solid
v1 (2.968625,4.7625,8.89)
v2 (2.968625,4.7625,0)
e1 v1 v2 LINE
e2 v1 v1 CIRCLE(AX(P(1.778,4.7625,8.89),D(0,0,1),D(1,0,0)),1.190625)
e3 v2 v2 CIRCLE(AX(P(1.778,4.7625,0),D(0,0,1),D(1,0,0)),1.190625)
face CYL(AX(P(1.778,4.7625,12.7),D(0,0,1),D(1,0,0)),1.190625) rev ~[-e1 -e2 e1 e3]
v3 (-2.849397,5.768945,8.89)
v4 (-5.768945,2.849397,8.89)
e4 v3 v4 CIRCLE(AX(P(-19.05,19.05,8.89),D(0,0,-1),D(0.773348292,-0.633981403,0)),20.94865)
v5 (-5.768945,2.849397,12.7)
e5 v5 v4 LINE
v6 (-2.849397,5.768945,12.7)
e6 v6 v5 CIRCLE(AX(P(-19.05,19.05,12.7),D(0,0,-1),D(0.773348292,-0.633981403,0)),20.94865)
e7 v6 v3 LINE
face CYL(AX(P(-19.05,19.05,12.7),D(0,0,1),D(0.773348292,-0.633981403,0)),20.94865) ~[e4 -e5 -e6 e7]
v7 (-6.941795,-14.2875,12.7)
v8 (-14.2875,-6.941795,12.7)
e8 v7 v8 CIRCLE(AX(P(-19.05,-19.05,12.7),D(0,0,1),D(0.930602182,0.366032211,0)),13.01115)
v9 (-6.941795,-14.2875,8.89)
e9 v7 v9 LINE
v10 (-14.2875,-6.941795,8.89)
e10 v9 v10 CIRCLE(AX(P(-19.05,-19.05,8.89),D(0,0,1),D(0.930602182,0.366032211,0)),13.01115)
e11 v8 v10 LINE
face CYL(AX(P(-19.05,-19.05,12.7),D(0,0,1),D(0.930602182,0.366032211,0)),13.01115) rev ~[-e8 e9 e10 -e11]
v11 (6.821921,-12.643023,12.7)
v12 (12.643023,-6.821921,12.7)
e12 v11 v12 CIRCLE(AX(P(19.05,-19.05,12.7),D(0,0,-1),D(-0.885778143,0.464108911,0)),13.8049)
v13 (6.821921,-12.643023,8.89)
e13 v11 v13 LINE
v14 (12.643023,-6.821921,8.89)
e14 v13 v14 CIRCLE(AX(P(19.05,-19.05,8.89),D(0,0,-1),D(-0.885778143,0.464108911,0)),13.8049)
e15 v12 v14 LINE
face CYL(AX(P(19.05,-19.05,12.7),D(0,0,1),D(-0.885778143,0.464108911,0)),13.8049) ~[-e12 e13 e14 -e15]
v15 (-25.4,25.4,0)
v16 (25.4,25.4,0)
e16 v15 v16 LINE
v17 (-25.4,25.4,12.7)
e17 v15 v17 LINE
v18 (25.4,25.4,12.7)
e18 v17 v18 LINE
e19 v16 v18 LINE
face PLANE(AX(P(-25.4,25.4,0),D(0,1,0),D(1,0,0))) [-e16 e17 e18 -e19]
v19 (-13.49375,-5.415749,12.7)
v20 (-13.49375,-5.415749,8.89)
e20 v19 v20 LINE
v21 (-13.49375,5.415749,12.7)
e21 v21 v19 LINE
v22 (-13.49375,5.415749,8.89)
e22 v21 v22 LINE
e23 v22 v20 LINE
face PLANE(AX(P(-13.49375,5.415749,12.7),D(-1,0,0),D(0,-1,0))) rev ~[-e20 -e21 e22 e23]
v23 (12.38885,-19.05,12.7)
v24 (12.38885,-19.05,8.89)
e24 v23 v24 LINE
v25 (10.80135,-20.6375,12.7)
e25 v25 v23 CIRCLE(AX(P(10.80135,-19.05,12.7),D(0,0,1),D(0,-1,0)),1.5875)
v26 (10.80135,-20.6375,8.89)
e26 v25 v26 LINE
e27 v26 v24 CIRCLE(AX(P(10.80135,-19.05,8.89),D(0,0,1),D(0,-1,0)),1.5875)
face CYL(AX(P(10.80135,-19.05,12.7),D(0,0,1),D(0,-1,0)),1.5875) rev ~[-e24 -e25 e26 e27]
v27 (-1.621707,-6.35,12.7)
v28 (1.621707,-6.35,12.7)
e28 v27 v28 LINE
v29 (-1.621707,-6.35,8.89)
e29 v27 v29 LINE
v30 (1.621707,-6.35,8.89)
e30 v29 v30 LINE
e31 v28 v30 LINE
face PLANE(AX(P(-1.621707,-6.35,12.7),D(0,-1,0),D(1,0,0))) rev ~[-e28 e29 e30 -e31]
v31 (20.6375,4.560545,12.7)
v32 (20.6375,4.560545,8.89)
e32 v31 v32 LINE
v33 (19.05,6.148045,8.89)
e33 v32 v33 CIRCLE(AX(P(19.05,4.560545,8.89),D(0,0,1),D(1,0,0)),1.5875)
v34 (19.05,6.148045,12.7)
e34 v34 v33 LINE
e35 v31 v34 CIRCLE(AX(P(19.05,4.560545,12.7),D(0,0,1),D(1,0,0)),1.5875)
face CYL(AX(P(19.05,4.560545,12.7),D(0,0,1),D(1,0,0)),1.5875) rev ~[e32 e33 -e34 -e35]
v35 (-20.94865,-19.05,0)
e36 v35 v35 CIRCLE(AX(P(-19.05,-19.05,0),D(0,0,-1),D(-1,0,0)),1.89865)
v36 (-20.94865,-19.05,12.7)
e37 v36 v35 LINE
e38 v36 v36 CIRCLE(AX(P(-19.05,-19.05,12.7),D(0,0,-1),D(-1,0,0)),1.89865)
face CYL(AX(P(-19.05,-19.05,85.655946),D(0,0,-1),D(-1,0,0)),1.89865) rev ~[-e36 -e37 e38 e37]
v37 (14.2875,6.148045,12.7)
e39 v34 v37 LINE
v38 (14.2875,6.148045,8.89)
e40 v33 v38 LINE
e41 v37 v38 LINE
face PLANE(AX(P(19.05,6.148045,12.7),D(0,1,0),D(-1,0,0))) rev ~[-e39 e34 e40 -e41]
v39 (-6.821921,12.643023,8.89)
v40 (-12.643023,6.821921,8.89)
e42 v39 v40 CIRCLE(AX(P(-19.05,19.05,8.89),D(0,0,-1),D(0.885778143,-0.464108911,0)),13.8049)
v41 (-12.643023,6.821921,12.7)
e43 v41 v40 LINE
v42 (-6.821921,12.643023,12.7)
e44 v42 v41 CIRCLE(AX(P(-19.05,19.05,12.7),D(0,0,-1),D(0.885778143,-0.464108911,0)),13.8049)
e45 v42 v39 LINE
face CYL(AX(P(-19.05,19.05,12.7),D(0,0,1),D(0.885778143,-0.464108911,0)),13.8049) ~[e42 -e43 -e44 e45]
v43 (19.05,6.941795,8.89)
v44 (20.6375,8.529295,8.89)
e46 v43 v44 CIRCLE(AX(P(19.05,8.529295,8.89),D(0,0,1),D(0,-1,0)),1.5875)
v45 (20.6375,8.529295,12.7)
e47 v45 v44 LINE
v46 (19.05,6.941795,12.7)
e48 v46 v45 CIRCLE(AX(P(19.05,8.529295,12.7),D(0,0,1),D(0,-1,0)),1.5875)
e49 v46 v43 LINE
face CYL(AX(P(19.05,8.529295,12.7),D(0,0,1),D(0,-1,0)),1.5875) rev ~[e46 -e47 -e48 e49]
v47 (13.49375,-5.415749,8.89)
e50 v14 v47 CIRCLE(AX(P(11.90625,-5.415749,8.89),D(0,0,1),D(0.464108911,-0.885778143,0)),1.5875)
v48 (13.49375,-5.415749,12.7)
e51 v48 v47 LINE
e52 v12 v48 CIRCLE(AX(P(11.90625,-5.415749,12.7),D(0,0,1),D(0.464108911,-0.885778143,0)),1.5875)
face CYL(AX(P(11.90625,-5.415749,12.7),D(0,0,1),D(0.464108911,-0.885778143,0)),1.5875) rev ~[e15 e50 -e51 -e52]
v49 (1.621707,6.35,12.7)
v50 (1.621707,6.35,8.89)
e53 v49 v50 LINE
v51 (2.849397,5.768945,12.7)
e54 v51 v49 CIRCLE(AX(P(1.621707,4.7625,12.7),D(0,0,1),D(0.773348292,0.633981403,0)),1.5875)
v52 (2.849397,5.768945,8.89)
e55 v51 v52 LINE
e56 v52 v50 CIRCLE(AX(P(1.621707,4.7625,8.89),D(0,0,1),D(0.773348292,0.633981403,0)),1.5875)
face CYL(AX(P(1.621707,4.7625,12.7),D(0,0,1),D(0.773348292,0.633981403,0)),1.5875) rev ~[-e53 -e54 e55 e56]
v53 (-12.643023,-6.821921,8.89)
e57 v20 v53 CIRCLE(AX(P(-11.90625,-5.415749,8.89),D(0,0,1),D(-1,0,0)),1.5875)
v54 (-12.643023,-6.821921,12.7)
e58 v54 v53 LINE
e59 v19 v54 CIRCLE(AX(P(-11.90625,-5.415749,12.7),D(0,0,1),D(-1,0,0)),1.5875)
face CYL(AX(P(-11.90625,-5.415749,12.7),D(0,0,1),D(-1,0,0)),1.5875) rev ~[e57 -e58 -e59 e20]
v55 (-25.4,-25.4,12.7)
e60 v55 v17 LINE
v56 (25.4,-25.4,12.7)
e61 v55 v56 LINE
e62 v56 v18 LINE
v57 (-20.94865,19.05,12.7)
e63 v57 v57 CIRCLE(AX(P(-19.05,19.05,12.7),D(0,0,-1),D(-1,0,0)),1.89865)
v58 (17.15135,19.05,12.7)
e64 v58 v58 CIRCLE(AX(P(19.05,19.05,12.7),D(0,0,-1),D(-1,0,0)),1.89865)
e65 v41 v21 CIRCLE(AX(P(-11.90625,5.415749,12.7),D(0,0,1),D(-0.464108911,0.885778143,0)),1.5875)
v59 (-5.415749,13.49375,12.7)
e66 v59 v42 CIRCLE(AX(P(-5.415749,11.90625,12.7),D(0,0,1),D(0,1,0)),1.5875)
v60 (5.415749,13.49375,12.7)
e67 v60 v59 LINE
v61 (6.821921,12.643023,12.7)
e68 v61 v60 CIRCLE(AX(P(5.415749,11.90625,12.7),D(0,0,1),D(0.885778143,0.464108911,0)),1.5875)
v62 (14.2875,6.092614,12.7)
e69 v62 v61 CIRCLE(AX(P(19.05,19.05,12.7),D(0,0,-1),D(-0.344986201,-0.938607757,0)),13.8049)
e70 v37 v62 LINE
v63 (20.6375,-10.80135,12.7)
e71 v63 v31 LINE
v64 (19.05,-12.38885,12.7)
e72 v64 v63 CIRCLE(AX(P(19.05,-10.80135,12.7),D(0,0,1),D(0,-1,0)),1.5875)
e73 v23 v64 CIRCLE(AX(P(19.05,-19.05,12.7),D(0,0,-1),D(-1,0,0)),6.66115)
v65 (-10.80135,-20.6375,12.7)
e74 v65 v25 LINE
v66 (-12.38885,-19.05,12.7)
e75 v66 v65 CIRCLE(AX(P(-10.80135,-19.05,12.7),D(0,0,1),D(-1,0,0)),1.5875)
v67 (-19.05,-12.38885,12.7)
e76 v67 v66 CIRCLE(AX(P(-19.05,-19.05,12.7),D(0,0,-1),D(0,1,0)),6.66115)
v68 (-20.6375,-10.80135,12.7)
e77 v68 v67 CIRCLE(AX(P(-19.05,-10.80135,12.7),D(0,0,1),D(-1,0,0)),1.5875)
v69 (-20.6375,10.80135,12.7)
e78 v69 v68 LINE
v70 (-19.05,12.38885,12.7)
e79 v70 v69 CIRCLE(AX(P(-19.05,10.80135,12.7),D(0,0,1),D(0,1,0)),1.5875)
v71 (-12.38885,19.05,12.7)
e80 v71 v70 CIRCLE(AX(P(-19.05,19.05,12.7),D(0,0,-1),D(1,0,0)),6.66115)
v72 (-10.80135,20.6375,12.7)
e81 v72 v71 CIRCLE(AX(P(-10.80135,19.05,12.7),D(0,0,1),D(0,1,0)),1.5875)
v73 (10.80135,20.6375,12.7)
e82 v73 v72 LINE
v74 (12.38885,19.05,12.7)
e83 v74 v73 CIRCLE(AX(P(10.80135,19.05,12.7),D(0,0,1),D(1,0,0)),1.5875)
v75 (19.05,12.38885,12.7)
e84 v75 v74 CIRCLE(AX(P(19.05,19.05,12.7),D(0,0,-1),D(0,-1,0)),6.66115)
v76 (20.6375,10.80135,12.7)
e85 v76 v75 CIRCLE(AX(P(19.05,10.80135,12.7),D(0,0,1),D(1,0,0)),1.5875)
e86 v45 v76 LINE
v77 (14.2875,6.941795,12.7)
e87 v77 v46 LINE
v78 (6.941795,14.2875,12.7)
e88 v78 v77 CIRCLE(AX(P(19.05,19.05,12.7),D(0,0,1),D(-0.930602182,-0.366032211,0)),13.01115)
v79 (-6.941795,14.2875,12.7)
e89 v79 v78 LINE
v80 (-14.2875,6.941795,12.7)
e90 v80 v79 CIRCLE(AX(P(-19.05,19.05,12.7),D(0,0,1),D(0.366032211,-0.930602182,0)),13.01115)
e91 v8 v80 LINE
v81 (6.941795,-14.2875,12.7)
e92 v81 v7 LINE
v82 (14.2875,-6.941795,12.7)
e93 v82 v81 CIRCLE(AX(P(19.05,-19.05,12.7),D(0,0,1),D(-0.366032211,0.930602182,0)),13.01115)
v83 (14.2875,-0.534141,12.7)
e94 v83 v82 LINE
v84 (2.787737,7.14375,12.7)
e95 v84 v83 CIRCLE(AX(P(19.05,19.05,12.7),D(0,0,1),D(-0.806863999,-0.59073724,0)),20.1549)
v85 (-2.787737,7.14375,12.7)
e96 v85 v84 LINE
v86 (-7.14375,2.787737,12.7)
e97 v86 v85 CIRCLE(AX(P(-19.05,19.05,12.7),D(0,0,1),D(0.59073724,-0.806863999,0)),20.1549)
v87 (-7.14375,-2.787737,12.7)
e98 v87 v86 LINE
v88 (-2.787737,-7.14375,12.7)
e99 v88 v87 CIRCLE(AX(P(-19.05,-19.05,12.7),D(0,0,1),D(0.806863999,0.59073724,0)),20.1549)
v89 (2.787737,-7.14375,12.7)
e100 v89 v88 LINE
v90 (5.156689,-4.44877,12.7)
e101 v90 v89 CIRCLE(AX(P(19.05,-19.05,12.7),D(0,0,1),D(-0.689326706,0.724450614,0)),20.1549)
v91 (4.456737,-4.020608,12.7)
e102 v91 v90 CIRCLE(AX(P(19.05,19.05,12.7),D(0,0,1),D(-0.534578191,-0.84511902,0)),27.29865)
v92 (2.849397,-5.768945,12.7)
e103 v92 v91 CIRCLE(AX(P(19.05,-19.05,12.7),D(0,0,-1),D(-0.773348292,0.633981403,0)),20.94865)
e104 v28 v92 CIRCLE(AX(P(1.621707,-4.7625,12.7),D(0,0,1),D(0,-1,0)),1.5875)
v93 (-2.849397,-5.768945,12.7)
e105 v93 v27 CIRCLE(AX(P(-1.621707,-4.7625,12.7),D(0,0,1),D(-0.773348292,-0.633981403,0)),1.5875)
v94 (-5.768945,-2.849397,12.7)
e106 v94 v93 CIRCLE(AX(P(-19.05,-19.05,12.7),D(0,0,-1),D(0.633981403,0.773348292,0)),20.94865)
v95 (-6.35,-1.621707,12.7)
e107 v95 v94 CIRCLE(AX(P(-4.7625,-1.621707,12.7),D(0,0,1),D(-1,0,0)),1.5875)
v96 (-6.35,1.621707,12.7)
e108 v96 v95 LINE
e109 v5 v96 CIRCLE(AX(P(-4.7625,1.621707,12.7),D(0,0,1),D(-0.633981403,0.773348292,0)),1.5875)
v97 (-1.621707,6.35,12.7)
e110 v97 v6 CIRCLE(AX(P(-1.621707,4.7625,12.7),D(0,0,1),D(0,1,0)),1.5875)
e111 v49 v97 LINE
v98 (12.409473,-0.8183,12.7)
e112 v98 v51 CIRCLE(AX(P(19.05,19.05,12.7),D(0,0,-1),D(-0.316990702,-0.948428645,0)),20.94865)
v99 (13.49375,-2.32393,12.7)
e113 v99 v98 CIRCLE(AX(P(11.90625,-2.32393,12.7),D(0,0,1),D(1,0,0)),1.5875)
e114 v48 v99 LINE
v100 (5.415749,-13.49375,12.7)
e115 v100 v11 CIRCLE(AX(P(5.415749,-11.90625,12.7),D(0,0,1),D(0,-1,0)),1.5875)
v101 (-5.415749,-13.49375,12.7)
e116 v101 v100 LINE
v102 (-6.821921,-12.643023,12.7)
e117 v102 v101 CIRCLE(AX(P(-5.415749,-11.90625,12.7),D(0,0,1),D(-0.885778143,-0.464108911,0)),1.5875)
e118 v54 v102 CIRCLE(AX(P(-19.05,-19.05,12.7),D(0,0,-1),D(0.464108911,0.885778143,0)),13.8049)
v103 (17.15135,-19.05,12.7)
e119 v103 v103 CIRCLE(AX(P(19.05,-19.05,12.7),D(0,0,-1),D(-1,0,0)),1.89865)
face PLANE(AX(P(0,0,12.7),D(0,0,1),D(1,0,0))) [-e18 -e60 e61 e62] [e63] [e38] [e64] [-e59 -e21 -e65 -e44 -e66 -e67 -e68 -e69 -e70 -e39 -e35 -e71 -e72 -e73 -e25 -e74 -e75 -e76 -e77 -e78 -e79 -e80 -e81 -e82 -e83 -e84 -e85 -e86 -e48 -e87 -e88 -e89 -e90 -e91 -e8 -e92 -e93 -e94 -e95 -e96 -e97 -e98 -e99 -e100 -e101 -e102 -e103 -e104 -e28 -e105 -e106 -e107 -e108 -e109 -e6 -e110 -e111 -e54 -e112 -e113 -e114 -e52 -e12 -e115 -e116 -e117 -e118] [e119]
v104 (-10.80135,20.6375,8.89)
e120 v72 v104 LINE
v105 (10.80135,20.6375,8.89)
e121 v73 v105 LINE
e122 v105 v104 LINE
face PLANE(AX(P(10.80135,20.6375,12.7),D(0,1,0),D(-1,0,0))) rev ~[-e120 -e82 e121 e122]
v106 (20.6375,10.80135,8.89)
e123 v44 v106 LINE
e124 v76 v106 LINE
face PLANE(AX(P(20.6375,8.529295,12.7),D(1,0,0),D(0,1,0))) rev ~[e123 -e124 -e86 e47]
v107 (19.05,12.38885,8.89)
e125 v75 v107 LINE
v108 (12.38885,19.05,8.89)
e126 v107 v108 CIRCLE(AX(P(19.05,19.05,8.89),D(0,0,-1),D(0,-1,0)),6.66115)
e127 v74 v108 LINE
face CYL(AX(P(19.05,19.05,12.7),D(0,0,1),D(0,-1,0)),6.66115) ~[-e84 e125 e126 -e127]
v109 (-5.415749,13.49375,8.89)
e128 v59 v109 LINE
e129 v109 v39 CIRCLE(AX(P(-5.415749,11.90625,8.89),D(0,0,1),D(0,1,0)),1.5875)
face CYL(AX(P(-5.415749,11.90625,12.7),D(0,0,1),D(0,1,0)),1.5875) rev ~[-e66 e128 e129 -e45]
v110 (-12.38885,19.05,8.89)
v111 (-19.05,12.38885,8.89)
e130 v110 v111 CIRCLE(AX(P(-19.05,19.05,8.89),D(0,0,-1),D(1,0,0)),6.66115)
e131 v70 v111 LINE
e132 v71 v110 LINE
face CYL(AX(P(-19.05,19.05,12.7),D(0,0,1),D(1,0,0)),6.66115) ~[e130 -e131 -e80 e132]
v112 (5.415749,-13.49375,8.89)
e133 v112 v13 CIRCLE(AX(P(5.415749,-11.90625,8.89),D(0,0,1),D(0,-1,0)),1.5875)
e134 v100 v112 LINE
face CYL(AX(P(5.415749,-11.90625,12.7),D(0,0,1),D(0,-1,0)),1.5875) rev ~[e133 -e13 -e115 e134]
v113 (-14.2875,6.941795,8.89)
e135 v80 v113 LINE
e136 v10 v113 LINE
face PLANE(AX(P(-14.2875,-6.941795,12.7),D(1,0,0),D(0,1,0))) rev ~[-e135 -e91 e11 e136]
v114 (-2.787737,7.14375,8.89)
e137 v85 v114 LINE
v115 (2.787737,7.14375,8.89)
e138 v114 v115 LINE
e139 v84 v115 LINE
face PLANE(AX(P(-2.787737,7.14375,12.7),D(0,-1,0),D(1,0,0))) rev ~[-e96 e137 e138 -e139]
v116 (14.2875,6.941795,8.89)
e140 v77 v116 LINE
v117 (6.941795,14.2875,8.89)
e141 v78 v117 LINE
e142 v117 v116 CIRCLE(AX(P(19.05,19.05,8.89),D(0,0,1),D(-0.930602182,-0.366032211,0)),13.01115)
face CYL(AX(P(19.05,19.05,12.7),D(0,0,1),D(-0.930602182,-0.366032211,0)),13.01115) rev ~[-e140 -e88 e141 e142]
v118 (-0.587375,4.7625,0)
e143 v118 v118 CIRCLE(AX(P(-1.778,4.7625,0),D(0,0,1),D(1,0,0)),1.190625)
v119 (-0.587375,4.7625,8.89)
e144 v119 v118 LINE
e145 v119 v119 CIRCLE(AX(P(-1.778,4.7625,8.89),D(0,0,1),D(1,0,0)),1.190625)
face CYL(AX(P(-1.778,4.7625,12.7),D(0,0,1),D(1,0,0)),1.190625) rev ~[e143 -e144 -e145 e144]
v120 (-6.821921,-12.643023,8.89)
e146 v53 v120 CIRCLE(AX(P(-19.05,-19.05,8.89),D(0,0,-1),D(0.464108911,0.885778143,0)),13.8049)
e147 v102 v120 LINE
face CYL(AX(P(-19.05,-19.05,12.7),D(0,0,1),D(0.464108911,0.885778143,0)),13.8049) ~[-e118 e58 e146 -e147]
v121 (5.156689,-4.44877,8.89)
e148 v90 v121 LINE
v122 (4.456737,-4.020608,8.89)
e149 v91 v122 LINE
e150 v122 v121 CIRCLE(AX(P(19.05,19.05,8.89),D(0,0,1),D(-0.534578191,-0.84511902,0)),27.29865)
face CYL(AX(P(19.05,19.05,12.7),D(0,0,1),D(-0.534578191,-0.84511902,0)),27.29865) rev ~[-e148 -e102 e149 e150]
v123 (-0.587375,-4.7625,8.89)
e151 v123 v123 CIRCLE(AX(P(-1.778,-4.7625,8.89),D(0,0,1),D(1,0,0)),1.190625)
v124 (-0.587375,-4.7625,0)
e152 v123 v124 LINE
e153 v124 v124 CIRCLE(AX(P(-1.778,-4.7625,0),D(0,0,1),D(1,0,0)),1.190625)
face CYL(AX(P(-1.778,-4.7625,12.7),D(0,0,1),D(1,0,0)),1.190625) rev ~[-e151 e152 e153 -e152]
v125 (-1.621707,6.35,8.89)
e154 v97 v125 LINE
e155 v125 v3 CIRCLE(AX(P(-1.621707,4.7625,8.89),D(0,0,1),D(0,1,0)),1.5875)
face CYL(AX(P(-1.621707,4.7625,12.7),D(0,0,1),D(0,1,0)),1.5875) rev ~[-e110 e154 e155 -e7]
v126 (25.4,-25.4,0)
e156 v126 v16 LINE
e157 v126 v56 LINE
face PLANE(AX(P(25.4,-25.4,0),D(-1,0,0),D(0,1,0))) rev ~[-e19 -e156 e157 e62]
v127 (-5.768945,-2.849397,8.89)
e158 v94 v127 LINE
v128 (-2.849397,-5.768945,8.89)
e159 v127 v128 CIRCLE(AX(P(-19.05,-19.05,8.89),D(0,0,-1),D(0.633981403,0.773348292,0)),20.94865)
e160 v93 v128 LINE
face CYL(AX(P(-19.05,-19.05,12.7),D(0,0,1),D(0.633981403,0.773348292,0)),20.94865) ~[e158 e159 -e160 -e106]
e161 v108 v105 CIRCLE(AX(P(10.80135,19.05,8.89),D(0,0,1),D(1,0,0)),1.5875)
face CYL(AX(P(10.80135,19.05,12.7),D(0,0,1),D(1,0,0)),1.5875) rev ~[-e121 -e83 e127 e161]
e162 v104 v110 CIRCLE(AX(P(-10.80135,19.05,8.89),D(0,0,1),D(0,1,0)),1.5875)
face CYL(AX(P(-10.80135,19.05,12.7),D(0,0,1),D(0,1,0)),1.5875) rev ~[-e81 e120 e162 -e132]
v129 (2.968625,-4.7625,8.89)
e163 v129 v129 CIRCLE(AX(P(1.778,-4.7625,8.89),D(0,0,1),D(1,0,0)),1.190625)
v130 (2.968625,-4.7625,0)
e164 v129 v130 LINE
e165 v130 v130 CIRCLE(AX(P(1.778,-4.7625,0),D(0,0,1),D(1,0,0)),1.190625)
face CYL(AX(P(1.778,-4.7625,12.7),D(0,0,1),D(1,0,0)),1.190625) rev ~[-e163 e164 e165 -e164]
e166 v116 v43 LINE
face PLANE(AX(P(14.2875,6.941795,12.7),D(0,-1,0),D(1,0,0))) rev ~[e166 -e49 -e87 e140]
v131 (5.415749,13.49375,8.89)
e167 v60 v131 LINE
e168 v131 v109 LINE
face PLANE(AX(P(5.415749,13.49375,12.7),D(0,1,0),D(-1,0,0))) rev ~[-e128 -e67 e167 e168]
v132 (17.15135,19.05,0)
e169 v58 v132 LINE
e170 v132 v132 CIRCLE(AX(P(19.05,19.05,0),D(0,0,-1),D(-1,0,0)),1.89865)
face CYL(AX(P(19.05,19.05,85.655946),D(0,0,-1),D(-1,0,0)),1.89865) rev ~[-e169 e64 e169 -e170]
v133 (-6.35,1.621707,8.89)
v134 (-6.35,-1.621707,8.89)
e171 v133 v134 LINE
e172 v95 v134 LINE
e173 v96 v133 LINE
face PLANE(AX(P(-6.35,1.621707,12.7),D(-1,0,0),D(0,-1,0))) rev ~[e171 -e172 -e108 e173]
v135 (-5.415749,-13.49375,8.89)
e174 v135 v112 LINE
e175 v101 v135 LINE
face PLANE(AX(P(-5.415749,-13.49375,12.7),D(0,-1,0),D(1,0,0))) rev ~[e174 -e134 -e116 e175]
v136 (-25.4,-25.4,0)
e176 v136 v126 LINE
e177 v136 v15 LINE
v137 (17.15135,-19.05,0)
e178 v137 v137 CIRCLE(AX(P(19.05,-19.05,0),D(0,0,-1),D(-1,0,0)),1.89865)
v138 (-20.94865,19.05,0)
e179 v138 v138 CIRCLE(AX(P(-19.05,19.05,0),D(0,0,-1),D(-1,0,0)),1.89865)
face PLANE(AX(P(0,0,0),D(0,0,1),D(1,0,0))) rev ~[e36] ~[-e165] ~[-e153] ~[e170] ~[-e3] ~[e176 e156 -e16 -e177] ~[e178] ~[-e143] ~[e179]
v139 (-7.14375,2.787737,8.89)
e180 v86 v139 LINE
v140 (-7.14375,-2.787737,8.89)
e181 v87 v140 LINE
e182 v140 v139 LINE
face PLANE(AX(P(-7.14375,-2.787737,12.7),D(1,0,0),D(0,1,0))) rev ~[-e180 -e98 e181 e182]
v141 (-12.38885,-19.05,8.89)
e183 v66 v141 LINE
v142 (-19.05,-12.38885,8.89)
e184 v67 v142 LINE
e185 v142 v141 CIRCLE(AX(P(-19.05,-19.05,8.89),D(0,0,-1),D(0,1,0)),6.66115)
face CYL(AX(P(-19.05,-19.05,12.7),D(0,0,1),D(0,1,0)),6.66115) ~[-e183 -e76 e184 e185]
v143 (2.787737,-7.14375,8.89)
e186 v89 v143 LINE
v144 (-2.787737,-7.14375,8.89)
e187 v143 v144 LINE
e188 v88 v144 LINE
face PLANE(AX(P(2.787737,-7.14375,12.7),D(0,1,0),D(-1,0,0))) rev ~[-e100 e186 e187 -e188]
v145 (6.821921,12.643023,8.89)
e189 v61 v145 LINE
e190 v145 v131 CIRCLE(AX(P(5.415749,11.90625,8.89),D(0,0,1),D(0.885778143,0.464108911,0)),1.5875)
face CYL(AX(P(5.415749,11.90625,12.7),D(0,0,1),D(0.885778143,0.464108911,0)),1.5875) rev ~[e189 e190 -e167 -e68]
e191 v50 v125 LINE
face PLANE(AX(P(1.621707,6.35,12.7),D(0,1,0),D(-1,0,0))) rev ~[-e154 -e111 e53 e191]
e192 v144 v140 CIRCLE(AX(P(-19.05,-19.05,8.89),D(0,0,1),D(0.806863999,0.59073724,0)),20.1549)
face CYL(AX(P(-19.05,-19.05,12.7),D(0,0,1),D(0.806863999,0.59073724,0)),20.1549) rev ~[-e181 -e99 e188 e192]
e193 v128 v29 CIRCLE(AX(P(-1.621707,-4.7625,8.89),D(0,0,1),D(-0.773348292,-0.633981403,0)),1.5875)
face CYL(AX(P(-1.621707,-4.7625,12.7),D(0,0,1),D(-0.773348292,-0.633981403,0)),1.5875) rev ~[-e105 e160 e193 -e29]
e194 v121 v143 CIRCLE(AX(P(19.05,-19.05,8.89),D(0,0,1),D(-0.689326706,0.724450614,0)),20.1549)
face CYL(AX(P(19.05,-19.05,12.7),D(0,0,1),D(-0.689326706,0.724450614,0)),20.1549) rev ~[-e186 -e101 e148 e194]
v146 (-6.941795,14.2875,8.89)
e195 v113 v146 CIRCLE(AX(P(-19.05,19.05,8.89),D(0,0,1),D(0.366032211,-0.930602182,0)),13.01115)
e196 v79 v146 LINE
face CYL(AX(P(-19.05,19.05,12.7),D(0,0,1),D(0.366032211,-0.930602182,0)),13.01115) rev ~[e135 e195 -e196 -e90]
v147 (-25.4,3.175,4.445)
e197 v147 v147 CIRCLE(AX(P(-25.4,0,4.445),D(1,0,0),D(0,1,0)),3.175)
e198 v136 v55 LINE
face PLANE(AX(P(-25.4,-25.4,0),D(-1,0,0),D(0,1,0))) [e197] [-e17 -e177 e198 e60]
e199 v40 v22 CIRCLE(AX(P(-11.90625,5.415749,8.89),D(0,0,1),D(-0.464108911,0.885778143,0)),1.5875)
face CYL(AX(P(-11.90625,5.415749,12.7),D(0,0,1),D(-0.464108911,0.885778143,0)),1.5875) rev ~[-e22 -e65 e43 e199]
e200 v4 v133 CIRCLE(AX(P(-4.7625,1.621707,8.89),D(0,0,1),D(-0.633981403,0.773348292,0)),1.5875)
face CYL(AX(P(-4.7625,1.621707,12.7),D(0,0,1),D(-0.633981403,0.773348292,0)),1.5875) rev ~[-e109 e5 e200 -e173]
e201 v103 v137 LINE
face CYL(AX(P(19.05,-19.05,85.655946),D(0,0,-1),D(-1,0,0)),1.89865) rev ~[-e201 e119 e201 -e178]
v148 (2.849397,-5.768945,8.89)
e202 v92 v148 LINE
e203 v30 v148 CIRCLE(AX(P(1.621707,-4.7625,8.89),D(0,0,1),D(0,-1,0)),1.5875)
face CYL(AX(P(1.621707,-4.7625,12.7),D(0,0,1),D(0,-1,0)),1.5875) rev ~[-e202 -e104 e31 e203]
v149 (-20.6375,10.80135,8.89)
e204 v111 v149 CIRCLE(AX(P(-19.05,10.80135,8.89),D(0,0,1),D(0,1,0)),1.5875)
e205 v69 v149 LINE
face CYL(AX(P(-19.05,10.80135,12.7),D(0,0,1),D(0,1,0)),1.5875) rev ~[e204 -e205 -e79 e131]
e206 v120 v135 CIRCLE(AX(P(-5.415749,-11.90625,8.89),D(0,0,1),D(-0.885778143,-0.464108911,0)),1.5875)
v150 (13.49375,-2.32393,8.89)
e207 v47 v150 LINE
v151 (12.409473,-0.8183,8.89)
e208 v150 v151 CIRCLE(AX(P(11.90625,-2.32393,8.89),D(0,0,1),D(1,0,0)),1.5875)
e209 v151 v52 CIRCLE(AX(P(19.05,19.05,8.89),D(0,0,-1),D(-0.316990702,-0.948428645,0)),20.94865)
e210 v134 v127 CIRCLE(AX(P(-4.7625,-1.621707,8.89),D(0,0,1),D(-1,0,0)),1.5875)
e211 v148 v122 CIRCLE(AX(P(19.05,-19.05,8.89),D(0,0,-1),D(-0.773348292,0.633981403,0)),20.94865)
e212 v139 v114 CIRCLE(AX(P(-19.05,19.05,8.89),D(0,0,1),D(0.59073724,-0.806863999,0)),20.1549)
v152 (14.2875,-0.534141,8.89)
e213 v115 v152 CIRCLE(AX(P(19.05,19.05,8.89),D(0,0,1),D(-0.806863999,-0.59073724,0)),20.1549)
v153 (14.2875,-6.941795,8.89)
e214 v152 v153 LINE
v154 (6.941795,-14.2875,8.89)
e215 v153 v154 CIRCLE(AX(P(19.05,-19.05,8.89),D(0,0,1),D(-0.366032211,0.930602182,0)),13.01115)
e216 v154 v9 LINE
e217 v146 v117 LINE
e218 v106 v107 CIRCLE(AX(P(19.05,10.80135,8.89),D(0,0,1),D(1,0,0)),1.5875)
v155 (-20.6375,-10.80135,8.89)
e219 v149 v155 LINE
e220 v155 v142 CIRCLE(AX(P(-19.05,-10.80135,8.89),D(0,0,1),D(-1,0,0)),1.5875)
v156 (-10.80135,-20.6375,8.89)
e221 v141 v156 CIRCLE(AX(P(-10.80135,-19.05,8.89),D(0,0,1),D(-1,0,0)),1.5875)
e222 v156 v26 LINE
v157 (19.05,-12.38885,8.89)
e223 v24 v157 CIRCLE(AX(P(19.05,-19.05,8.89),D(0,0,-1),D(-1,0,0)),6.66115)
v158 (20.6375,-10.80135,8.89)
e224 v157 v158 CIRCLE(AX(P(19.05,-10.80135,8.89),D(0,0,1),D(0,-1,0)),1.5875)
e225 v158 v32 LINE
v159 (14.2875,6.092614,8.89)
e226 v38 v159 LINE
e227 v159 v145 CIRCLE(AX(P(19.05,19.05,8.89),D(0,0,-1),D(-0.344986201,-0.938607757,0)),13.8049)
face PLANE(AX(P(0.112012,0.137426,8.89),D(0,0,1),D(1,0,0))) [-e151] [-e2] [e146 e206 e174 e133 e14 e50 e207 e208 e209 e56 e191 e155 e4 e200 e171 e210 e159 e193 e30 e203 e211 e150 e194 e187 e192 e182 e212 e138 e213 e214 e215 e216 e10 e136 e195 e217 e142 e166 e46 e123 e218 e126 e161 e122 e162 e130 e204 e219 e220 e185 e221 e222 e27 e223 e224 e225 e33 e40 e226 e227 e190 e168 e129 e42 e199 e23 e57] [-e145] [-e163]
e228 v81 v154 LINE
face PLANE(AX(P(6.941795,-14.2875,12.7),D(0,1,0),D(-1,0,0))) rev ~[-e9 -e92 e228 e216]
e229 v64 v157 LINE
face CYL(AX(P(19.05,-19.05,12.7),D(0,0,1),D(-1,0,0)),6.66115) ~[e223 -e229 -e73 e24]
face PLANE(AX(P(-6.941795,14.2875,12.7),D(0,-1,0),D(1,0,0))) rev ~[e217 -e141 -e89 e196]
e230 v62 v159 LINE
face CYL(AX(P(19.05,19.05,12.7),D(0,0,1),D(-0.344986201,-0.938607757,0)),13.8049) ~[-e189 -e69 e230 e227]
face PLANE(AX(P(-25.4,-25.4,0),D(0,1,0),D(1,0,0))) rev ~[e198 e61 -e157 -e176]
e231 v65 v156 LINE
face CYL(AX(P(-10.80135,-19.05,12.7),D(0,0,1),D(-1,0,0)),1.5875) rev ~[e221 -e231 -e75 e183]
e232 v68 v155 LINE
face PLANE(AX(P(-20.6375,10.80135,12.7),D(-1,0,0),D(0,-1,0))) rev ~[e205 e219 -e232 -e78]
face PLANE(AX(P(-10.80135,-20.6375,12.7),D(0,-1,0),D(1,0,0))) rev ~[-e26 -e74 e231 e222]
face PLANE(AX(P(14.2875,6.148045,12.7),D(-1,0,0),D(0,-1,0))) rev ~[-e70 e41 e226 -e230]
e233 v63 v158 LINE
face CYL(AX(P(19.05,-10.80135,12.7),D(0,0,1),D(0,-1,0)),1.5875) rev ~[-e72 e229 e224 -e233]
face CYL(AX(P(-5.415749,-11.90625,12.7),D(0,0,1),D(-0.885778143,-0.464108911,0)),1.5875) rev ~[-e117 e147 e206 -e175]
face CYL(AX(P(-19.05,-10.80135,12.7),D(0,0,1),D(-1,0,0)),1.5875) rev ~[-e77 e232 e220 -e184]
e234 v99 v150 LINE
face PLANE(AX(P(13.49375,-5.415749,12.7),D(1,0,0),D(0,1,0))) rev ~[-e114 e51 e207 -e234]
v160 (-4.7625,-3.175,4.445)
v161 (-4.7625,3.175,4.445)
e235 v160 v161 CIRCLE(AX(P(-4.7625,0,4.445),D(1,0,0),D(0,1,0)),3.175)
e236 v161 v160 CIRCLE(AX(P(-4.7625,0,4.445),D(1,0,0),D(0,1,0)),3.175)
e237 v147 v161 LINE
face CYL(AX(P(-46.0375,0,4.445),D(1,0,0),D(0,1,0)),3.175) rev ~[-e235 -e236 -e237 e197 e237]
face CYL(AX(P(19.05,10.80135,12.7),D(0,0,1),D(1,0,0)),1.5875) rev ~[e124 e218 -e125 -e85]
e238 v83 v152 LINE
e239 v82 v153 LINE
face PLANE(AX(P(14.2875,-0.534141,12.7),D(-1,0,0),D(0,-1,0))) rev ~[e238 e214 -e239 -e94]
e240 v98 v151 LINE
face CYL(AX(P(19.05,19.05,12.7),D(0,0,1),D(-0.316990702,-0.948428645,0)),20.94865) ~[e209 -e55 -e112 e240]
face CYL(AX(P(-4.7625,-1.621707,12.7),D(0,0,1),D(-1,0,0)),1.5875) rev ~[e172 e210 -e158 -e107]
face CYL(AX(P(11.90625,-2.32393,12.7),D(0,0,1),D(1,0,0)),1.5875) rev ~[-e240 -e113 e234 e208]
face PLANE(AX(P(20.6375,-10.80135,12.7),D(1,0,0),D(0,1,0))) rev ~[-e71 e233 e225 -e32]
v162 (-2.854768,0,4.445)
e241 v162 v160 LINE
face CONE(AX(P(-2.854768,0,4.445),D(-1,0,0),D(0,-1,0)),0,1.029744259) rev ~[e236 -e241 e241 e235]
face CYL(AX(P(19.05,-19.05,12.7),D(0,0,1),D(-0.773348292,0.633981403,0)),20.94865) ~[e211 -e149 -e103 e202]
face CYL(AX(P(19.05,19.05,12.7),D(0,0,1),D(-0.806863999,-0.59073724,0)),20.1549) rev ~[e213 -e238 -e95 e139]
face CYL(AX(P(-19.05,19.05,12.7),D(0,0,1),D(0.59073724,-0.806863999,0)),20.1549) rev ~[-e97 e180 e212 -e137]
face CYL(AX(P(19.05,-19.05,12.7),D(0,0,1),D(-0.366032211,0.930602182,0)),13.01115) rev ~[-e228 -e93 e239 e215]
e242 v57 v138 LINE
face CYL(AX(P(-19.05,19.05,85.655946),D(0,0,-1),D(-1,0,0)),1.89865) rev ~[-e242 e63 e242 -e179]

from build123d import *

# Parameters (mm, degrees)
F0_W      = 50.8
F0_H      = 50.8
F1_DEPTH  = 12.7
F5_D      = 6.35
F5_DEPTH  = 20.6375
F5_TIP    = 1.9077324654
F7_D      = 3.7973
F8_R      = 1.190625
F9_DEPTH  = 3.81
F10_R     = 1.190625
F11_DEPTH = 12.701


with BuildPart() as f1:
    # F0 (on Top) → F1 (new body)
    with BuildSketch(Plane.XY):
        Rectangle(F0_W, F0_H)
    extrude(amount=F1_DEPTH)

    # F5
    with Locations(Plane(origin=(-25.4, 0, 0), x_dir=(0, -1, 0), z_dir=(-1, 0, 0))):
        with Locations((0, 4.445)):
            Hole(F5_D / 2, depth=F5_DEPTH)
            with Locations((0, 0, -(F5_DEPTH + F5_TIP / 2))):  # 118° drill point
                Cone(0, F5_D / 2, F5_TIP, mode=Mode.SUBTRACT)

    # F7 (through all)
    with Locations(Plane.XY.offset(12.7)):
        with Locations((-19.05, 19.05), (19.05, 19.05), (19.05, -19.05), (-19.05, -19.05)):
            Hole(F7_D / 2)

    # F8 (on face) → F9 (cut)
    with BuildSketch(Plane.XY.offset(12.7)):
        with BuildLine():
            Line((20.6375, 8.5292954232), (20.6375, 10.80135))
            ThreePointArc((20.6375, 10.80135), (20.1725320151, 11.9238820151), (19.05, 12.38885))
            ThreePointArc((19.05, 12.38885), (14.3398556645, 14.3398556645), (12.38885, 19.05))
            ThreePointArc((12.38885, 19.05), (11.9238820151, 20.1725320151), (10.80135, 20.6375))
            Line((10.80135, 20.6375), (-10.80135, 20.6375))
            ThreePointArc((-10.80135, 20.6375), (-11.9238820151, 20.1725320151), (-12.38885, 19.05))
            ThreePointArc((-12.38885, 19.05), (-14.3398556645, 14.3398556645), (-19.05, 12.38885))
            ThreePointArc((-19.05, 12.38885), (-20.1725320151, 11.9238820151), (-20.6375, 10.80135))
            Line((-20.6375, 10.80135), (-20.6375, -10.80135))
            ThreePointArc((-20.6375, -10.80135), (-20.1725320151, -11.9238820151), (-19.05, -12.38885))
            ThreePointArc((-19.05, -12.38885), (-14.3398556645, -14.3398556645), (-12.38885, -19.05))
            ThreePointArc((-12.38885, -19.05), (-11.9238820151, -20.1725320151), (-10.80135, -20.6375))
            Line((-10.80135, -20.6375), (10.80135, -20.6375))
            ThreePointArc((10.80135, -20.6375), (11.9238820151, -20.1725320151), (12.38885, -19.05))
            ThreePointArc((12.38885, -19.05), (14.3398556645, -14.3398556645), (19.05, -12.38885))
            ThreePointArc((19.05, -12.38885), (20.1725320151, -11.9238820151), (20.6375, -10.80135))
            Line((20.6375, -10.80135), (20.6375, 4.5605454232))
            ThreePointArc((20.6375, 4.5605454232), (20.1725320151, 5.6830774384), (19.05, 6.1480454232))
            Line((19.05, 6.1480454232), (14.2875, 6.1480454232))
            Line((14.2875, 6.1480454232), (14.2875, 6.0926137759))
            ThreePointArc((14.2875, 6.0926137759), (9.9452262, 8.6731816985), (6.821921312, 12.643022896))
            ThreePointArc((6.821921312, 12.643022896), (6.2374933843, 13.2645178717), (5.4157485098, 13.49375))
            Line((5.4157485098, 13.49375), (-5.4157485098, 13.49375))
            ThreePointArc((-5.4157485098, 13.49375), (-6.2374933843, 13.2645178717), (-6.821921312, 12.643022896))
            ThreePointArc((-6.821921312, 12.643022896), (-9.2884615964, 9.2884615964), (-12.643022896, 6.821921312))
            ThreePointArc((-12.643022896, 6.821921312), (-13.2645178717, 6.2374933843), (-13.49375, 5.4157485098))
            Line((-13.49375, 5.4157485098), (-13.49375, -5.4157485098))
            ThreePointArc((-13.49375, -5.4157485098), (-13.2645178717, -6.2374933843), (-12.643022896, -6.821921312))
            ThreePointArc((-12.643022896, -6.821921312), (-9.2884615964, -9.2884615964), (-6.821921312, -12.643022896))
            ThreePointArc((-6.821921312, -12.643022896), (-6.2374933843, -13.2645178717), (-5.4157485098, -13.49375))
            Line((-5.4157485098, -13.49375), (5.4157485098, -13.49375))
            ThreePointArc((5.4157485098, -13.49375), (6.2374933843, -13.2645178717), (6.821921312, -12.643022896))
            ThreePointArc((6.821921312, -12.643022896), (9.2884615964, -9.2884615964), (12.643022896, -6.821921312))
            ThreePointArc((12.643022896, -6.821921312), (13.2645178717, -6.2374933843), (13.49375, -5.4157485098))
            Line((13.49375, -5.4157485098), (13.49375, -2.3239302132))
            ThreePointArc((13.49375, -2.3239302132), (13.1944701574, -1.3962206272), (12.4094727388, -0.8182997389))
            ThreePointArc((12.4094727388, -0.8182997389), (7.1639891354, 1.7998207966), (2.8493973076, 5.7689454776))
            ThreePointArc((2.8493973076, 5.7689454776), (2.3008328233, 6.1974021649), (1.6217068945, 6.35))
            Line((1.6217068945, 6.35), (-1.6217068945, 6.35))
            ThreePointArc((-1.6217068945, 6.35), (-2.3008328233, 6.1974021649), (-2.8493973076, 5.7689454776))
            ThreePointArc((-2.8493973076, 5.7689454776), (-4.2370675283, 4.2370675283), (-5.7689454776, 2.8493973076))
            ThreePointArc((-5.7689454776, 2.8493973076), (-6.1974021649, 2.3008328233), (-6.35, 1.6217068945))
            Line((-6.35, 1.6217068945), (-6.35, -1.6217068945))
            ThreePointArc((-6.35, -1.6217068945), (-6.1974021649, -2.3008328233), (-5.7689454776, -2.8493973076))
            ThreePointArc((-5.7689454776, -2.8493973076), (-4.2370675283, -4.2370675283), (-2.8493973076, -5.7689454776))
            ThreePointArc((-2.8493973076, -5.7689454776), (-2.3008328233, -6.1974021649), (-1.6217068945, -6.35))
            Line((-1.6217068945, -6.35), (1.6217068945, -6.35))
            ThreePointArc((1.6217068945, -6.35), (2.3008328233, -6.1974021649), (2.8493973076, -5.7689454776))
            ThreePointArc((2.8493973076, -5.7689454776), (3.6282714753, -4.8719808812), (4.4567370697, -4.0206083333))
            ThreePointArc((4.4567370697, -4.0206083333), (4.8051043626, -4.2373192983), (5.1566891771, -4.4487703125))
            ThreePointArc((5.1566891771, -4.4487703125), (3.9121206801, -5.7434375699), (2.7877367827, -7.14375))
            Line((2.7877367827, -7.14375), (-2.7877367827, -7.14375))
            ThreePointArc((-2.7877367827, -7.14375), (-4.7983335359, -4.7983335359), (-7.14375, -2.7877367827))
            Line((-7.14375, -2.7877367827), (-7.14375, 2.7877367827))
            ThreePointArc((-7.14375, 2.7877367827), (-4.7983335359, 4.7983335359), (-2.7877367827, 7.14375))
            Line((-2.7877367827, 7.14375), (2.7877367827, 7.14375))
            ThreePointArc((2.7877367827, 7.14375), (7.858589431, 2.2877709273), (14.2875, -0.5341412311))
            Line((14.2875, -0.5341412311), (14.2875, -6.9417954232))
            ThreePointArc((14.2875, -6.9417954232), (9.849727604, -9.849727604), (6.9417954232, -14.2875))
            Line((6.9417954232, -14.2875), (-6.9417954232, -14.2875))
            ThreePointArc((-6.9417954232, -14.2875), (-9.849727604, -9.849727604), (-14.2875, -6.9417954232))
            Line((-14.2875, -6.9417954232), (-14.2875, 6.9417954232))
            ThreePointArc((-14.2875, 6.9417954232), (-9.849727604, 9.849727604), (-6.9417954232, 14.2875))
            Line((-6.9417954232, 14.2875), (6.9417954232, 14.2875))
            ThreePointArc((6.9417954232, 14.2875), (9.849727604, 9.849727604), (14.2875, 6.9417954232))
            Line((14.2875, 6.9417954232), (19.05, 6.9417954232))
            ThreePointArc((19.05, 6.9417954232), (20.1725320151, 7.4067634081), (20.6375, 8.5292954232))
        make_face()
        with Locations((-1.778, -4.7625)):
            Circle(F8_R, mode=Mode.SUBTRACT)
        with Locations((1.778, -4.7625)):
            Circle(F8_R, mode=Mode.SUBTRACT)
        with Locations((-1.778, 4.7625)):
            Circle(F8_R, mode=Mode.SUBTRACT)
        with Locations((1.778, 4.7625)):
            Circle(F8_R, mode=Mode.SUBTRACT)
        with Locations((-1.778, 4.7625)):
            Circle(F8_R)
        with Locations((1.778, 4.7625)):
            Circle(F8_R)
        with Locations((1.778, -4.7625)):
            Circle(F8_R)
        with Locations((-1.778, -4.7625)):
            Circle(F8_R)
    extrude(amount=-F9_DEPTH, mode=Mode.SUBTRACT)

    # F10 (on face) → F11 (cut, through all)
    with BuildSketch(Plane.XY.offset(12.7)):
        with Locations((-1.778, 4.7625)):
            Circle(F10_R)
        with Locations((1.778, 4.7625)):
            Circle(F10_R)
        with Locations((1.778, -4.7625)):
            Circle(F10_R)
        with Locations((-1.778, -4.7625)):
            Circle(F10_R)
    extrude(amount=-F11_DEPTH, mode=Mode.SUBTRACT)


solid = f1.part
